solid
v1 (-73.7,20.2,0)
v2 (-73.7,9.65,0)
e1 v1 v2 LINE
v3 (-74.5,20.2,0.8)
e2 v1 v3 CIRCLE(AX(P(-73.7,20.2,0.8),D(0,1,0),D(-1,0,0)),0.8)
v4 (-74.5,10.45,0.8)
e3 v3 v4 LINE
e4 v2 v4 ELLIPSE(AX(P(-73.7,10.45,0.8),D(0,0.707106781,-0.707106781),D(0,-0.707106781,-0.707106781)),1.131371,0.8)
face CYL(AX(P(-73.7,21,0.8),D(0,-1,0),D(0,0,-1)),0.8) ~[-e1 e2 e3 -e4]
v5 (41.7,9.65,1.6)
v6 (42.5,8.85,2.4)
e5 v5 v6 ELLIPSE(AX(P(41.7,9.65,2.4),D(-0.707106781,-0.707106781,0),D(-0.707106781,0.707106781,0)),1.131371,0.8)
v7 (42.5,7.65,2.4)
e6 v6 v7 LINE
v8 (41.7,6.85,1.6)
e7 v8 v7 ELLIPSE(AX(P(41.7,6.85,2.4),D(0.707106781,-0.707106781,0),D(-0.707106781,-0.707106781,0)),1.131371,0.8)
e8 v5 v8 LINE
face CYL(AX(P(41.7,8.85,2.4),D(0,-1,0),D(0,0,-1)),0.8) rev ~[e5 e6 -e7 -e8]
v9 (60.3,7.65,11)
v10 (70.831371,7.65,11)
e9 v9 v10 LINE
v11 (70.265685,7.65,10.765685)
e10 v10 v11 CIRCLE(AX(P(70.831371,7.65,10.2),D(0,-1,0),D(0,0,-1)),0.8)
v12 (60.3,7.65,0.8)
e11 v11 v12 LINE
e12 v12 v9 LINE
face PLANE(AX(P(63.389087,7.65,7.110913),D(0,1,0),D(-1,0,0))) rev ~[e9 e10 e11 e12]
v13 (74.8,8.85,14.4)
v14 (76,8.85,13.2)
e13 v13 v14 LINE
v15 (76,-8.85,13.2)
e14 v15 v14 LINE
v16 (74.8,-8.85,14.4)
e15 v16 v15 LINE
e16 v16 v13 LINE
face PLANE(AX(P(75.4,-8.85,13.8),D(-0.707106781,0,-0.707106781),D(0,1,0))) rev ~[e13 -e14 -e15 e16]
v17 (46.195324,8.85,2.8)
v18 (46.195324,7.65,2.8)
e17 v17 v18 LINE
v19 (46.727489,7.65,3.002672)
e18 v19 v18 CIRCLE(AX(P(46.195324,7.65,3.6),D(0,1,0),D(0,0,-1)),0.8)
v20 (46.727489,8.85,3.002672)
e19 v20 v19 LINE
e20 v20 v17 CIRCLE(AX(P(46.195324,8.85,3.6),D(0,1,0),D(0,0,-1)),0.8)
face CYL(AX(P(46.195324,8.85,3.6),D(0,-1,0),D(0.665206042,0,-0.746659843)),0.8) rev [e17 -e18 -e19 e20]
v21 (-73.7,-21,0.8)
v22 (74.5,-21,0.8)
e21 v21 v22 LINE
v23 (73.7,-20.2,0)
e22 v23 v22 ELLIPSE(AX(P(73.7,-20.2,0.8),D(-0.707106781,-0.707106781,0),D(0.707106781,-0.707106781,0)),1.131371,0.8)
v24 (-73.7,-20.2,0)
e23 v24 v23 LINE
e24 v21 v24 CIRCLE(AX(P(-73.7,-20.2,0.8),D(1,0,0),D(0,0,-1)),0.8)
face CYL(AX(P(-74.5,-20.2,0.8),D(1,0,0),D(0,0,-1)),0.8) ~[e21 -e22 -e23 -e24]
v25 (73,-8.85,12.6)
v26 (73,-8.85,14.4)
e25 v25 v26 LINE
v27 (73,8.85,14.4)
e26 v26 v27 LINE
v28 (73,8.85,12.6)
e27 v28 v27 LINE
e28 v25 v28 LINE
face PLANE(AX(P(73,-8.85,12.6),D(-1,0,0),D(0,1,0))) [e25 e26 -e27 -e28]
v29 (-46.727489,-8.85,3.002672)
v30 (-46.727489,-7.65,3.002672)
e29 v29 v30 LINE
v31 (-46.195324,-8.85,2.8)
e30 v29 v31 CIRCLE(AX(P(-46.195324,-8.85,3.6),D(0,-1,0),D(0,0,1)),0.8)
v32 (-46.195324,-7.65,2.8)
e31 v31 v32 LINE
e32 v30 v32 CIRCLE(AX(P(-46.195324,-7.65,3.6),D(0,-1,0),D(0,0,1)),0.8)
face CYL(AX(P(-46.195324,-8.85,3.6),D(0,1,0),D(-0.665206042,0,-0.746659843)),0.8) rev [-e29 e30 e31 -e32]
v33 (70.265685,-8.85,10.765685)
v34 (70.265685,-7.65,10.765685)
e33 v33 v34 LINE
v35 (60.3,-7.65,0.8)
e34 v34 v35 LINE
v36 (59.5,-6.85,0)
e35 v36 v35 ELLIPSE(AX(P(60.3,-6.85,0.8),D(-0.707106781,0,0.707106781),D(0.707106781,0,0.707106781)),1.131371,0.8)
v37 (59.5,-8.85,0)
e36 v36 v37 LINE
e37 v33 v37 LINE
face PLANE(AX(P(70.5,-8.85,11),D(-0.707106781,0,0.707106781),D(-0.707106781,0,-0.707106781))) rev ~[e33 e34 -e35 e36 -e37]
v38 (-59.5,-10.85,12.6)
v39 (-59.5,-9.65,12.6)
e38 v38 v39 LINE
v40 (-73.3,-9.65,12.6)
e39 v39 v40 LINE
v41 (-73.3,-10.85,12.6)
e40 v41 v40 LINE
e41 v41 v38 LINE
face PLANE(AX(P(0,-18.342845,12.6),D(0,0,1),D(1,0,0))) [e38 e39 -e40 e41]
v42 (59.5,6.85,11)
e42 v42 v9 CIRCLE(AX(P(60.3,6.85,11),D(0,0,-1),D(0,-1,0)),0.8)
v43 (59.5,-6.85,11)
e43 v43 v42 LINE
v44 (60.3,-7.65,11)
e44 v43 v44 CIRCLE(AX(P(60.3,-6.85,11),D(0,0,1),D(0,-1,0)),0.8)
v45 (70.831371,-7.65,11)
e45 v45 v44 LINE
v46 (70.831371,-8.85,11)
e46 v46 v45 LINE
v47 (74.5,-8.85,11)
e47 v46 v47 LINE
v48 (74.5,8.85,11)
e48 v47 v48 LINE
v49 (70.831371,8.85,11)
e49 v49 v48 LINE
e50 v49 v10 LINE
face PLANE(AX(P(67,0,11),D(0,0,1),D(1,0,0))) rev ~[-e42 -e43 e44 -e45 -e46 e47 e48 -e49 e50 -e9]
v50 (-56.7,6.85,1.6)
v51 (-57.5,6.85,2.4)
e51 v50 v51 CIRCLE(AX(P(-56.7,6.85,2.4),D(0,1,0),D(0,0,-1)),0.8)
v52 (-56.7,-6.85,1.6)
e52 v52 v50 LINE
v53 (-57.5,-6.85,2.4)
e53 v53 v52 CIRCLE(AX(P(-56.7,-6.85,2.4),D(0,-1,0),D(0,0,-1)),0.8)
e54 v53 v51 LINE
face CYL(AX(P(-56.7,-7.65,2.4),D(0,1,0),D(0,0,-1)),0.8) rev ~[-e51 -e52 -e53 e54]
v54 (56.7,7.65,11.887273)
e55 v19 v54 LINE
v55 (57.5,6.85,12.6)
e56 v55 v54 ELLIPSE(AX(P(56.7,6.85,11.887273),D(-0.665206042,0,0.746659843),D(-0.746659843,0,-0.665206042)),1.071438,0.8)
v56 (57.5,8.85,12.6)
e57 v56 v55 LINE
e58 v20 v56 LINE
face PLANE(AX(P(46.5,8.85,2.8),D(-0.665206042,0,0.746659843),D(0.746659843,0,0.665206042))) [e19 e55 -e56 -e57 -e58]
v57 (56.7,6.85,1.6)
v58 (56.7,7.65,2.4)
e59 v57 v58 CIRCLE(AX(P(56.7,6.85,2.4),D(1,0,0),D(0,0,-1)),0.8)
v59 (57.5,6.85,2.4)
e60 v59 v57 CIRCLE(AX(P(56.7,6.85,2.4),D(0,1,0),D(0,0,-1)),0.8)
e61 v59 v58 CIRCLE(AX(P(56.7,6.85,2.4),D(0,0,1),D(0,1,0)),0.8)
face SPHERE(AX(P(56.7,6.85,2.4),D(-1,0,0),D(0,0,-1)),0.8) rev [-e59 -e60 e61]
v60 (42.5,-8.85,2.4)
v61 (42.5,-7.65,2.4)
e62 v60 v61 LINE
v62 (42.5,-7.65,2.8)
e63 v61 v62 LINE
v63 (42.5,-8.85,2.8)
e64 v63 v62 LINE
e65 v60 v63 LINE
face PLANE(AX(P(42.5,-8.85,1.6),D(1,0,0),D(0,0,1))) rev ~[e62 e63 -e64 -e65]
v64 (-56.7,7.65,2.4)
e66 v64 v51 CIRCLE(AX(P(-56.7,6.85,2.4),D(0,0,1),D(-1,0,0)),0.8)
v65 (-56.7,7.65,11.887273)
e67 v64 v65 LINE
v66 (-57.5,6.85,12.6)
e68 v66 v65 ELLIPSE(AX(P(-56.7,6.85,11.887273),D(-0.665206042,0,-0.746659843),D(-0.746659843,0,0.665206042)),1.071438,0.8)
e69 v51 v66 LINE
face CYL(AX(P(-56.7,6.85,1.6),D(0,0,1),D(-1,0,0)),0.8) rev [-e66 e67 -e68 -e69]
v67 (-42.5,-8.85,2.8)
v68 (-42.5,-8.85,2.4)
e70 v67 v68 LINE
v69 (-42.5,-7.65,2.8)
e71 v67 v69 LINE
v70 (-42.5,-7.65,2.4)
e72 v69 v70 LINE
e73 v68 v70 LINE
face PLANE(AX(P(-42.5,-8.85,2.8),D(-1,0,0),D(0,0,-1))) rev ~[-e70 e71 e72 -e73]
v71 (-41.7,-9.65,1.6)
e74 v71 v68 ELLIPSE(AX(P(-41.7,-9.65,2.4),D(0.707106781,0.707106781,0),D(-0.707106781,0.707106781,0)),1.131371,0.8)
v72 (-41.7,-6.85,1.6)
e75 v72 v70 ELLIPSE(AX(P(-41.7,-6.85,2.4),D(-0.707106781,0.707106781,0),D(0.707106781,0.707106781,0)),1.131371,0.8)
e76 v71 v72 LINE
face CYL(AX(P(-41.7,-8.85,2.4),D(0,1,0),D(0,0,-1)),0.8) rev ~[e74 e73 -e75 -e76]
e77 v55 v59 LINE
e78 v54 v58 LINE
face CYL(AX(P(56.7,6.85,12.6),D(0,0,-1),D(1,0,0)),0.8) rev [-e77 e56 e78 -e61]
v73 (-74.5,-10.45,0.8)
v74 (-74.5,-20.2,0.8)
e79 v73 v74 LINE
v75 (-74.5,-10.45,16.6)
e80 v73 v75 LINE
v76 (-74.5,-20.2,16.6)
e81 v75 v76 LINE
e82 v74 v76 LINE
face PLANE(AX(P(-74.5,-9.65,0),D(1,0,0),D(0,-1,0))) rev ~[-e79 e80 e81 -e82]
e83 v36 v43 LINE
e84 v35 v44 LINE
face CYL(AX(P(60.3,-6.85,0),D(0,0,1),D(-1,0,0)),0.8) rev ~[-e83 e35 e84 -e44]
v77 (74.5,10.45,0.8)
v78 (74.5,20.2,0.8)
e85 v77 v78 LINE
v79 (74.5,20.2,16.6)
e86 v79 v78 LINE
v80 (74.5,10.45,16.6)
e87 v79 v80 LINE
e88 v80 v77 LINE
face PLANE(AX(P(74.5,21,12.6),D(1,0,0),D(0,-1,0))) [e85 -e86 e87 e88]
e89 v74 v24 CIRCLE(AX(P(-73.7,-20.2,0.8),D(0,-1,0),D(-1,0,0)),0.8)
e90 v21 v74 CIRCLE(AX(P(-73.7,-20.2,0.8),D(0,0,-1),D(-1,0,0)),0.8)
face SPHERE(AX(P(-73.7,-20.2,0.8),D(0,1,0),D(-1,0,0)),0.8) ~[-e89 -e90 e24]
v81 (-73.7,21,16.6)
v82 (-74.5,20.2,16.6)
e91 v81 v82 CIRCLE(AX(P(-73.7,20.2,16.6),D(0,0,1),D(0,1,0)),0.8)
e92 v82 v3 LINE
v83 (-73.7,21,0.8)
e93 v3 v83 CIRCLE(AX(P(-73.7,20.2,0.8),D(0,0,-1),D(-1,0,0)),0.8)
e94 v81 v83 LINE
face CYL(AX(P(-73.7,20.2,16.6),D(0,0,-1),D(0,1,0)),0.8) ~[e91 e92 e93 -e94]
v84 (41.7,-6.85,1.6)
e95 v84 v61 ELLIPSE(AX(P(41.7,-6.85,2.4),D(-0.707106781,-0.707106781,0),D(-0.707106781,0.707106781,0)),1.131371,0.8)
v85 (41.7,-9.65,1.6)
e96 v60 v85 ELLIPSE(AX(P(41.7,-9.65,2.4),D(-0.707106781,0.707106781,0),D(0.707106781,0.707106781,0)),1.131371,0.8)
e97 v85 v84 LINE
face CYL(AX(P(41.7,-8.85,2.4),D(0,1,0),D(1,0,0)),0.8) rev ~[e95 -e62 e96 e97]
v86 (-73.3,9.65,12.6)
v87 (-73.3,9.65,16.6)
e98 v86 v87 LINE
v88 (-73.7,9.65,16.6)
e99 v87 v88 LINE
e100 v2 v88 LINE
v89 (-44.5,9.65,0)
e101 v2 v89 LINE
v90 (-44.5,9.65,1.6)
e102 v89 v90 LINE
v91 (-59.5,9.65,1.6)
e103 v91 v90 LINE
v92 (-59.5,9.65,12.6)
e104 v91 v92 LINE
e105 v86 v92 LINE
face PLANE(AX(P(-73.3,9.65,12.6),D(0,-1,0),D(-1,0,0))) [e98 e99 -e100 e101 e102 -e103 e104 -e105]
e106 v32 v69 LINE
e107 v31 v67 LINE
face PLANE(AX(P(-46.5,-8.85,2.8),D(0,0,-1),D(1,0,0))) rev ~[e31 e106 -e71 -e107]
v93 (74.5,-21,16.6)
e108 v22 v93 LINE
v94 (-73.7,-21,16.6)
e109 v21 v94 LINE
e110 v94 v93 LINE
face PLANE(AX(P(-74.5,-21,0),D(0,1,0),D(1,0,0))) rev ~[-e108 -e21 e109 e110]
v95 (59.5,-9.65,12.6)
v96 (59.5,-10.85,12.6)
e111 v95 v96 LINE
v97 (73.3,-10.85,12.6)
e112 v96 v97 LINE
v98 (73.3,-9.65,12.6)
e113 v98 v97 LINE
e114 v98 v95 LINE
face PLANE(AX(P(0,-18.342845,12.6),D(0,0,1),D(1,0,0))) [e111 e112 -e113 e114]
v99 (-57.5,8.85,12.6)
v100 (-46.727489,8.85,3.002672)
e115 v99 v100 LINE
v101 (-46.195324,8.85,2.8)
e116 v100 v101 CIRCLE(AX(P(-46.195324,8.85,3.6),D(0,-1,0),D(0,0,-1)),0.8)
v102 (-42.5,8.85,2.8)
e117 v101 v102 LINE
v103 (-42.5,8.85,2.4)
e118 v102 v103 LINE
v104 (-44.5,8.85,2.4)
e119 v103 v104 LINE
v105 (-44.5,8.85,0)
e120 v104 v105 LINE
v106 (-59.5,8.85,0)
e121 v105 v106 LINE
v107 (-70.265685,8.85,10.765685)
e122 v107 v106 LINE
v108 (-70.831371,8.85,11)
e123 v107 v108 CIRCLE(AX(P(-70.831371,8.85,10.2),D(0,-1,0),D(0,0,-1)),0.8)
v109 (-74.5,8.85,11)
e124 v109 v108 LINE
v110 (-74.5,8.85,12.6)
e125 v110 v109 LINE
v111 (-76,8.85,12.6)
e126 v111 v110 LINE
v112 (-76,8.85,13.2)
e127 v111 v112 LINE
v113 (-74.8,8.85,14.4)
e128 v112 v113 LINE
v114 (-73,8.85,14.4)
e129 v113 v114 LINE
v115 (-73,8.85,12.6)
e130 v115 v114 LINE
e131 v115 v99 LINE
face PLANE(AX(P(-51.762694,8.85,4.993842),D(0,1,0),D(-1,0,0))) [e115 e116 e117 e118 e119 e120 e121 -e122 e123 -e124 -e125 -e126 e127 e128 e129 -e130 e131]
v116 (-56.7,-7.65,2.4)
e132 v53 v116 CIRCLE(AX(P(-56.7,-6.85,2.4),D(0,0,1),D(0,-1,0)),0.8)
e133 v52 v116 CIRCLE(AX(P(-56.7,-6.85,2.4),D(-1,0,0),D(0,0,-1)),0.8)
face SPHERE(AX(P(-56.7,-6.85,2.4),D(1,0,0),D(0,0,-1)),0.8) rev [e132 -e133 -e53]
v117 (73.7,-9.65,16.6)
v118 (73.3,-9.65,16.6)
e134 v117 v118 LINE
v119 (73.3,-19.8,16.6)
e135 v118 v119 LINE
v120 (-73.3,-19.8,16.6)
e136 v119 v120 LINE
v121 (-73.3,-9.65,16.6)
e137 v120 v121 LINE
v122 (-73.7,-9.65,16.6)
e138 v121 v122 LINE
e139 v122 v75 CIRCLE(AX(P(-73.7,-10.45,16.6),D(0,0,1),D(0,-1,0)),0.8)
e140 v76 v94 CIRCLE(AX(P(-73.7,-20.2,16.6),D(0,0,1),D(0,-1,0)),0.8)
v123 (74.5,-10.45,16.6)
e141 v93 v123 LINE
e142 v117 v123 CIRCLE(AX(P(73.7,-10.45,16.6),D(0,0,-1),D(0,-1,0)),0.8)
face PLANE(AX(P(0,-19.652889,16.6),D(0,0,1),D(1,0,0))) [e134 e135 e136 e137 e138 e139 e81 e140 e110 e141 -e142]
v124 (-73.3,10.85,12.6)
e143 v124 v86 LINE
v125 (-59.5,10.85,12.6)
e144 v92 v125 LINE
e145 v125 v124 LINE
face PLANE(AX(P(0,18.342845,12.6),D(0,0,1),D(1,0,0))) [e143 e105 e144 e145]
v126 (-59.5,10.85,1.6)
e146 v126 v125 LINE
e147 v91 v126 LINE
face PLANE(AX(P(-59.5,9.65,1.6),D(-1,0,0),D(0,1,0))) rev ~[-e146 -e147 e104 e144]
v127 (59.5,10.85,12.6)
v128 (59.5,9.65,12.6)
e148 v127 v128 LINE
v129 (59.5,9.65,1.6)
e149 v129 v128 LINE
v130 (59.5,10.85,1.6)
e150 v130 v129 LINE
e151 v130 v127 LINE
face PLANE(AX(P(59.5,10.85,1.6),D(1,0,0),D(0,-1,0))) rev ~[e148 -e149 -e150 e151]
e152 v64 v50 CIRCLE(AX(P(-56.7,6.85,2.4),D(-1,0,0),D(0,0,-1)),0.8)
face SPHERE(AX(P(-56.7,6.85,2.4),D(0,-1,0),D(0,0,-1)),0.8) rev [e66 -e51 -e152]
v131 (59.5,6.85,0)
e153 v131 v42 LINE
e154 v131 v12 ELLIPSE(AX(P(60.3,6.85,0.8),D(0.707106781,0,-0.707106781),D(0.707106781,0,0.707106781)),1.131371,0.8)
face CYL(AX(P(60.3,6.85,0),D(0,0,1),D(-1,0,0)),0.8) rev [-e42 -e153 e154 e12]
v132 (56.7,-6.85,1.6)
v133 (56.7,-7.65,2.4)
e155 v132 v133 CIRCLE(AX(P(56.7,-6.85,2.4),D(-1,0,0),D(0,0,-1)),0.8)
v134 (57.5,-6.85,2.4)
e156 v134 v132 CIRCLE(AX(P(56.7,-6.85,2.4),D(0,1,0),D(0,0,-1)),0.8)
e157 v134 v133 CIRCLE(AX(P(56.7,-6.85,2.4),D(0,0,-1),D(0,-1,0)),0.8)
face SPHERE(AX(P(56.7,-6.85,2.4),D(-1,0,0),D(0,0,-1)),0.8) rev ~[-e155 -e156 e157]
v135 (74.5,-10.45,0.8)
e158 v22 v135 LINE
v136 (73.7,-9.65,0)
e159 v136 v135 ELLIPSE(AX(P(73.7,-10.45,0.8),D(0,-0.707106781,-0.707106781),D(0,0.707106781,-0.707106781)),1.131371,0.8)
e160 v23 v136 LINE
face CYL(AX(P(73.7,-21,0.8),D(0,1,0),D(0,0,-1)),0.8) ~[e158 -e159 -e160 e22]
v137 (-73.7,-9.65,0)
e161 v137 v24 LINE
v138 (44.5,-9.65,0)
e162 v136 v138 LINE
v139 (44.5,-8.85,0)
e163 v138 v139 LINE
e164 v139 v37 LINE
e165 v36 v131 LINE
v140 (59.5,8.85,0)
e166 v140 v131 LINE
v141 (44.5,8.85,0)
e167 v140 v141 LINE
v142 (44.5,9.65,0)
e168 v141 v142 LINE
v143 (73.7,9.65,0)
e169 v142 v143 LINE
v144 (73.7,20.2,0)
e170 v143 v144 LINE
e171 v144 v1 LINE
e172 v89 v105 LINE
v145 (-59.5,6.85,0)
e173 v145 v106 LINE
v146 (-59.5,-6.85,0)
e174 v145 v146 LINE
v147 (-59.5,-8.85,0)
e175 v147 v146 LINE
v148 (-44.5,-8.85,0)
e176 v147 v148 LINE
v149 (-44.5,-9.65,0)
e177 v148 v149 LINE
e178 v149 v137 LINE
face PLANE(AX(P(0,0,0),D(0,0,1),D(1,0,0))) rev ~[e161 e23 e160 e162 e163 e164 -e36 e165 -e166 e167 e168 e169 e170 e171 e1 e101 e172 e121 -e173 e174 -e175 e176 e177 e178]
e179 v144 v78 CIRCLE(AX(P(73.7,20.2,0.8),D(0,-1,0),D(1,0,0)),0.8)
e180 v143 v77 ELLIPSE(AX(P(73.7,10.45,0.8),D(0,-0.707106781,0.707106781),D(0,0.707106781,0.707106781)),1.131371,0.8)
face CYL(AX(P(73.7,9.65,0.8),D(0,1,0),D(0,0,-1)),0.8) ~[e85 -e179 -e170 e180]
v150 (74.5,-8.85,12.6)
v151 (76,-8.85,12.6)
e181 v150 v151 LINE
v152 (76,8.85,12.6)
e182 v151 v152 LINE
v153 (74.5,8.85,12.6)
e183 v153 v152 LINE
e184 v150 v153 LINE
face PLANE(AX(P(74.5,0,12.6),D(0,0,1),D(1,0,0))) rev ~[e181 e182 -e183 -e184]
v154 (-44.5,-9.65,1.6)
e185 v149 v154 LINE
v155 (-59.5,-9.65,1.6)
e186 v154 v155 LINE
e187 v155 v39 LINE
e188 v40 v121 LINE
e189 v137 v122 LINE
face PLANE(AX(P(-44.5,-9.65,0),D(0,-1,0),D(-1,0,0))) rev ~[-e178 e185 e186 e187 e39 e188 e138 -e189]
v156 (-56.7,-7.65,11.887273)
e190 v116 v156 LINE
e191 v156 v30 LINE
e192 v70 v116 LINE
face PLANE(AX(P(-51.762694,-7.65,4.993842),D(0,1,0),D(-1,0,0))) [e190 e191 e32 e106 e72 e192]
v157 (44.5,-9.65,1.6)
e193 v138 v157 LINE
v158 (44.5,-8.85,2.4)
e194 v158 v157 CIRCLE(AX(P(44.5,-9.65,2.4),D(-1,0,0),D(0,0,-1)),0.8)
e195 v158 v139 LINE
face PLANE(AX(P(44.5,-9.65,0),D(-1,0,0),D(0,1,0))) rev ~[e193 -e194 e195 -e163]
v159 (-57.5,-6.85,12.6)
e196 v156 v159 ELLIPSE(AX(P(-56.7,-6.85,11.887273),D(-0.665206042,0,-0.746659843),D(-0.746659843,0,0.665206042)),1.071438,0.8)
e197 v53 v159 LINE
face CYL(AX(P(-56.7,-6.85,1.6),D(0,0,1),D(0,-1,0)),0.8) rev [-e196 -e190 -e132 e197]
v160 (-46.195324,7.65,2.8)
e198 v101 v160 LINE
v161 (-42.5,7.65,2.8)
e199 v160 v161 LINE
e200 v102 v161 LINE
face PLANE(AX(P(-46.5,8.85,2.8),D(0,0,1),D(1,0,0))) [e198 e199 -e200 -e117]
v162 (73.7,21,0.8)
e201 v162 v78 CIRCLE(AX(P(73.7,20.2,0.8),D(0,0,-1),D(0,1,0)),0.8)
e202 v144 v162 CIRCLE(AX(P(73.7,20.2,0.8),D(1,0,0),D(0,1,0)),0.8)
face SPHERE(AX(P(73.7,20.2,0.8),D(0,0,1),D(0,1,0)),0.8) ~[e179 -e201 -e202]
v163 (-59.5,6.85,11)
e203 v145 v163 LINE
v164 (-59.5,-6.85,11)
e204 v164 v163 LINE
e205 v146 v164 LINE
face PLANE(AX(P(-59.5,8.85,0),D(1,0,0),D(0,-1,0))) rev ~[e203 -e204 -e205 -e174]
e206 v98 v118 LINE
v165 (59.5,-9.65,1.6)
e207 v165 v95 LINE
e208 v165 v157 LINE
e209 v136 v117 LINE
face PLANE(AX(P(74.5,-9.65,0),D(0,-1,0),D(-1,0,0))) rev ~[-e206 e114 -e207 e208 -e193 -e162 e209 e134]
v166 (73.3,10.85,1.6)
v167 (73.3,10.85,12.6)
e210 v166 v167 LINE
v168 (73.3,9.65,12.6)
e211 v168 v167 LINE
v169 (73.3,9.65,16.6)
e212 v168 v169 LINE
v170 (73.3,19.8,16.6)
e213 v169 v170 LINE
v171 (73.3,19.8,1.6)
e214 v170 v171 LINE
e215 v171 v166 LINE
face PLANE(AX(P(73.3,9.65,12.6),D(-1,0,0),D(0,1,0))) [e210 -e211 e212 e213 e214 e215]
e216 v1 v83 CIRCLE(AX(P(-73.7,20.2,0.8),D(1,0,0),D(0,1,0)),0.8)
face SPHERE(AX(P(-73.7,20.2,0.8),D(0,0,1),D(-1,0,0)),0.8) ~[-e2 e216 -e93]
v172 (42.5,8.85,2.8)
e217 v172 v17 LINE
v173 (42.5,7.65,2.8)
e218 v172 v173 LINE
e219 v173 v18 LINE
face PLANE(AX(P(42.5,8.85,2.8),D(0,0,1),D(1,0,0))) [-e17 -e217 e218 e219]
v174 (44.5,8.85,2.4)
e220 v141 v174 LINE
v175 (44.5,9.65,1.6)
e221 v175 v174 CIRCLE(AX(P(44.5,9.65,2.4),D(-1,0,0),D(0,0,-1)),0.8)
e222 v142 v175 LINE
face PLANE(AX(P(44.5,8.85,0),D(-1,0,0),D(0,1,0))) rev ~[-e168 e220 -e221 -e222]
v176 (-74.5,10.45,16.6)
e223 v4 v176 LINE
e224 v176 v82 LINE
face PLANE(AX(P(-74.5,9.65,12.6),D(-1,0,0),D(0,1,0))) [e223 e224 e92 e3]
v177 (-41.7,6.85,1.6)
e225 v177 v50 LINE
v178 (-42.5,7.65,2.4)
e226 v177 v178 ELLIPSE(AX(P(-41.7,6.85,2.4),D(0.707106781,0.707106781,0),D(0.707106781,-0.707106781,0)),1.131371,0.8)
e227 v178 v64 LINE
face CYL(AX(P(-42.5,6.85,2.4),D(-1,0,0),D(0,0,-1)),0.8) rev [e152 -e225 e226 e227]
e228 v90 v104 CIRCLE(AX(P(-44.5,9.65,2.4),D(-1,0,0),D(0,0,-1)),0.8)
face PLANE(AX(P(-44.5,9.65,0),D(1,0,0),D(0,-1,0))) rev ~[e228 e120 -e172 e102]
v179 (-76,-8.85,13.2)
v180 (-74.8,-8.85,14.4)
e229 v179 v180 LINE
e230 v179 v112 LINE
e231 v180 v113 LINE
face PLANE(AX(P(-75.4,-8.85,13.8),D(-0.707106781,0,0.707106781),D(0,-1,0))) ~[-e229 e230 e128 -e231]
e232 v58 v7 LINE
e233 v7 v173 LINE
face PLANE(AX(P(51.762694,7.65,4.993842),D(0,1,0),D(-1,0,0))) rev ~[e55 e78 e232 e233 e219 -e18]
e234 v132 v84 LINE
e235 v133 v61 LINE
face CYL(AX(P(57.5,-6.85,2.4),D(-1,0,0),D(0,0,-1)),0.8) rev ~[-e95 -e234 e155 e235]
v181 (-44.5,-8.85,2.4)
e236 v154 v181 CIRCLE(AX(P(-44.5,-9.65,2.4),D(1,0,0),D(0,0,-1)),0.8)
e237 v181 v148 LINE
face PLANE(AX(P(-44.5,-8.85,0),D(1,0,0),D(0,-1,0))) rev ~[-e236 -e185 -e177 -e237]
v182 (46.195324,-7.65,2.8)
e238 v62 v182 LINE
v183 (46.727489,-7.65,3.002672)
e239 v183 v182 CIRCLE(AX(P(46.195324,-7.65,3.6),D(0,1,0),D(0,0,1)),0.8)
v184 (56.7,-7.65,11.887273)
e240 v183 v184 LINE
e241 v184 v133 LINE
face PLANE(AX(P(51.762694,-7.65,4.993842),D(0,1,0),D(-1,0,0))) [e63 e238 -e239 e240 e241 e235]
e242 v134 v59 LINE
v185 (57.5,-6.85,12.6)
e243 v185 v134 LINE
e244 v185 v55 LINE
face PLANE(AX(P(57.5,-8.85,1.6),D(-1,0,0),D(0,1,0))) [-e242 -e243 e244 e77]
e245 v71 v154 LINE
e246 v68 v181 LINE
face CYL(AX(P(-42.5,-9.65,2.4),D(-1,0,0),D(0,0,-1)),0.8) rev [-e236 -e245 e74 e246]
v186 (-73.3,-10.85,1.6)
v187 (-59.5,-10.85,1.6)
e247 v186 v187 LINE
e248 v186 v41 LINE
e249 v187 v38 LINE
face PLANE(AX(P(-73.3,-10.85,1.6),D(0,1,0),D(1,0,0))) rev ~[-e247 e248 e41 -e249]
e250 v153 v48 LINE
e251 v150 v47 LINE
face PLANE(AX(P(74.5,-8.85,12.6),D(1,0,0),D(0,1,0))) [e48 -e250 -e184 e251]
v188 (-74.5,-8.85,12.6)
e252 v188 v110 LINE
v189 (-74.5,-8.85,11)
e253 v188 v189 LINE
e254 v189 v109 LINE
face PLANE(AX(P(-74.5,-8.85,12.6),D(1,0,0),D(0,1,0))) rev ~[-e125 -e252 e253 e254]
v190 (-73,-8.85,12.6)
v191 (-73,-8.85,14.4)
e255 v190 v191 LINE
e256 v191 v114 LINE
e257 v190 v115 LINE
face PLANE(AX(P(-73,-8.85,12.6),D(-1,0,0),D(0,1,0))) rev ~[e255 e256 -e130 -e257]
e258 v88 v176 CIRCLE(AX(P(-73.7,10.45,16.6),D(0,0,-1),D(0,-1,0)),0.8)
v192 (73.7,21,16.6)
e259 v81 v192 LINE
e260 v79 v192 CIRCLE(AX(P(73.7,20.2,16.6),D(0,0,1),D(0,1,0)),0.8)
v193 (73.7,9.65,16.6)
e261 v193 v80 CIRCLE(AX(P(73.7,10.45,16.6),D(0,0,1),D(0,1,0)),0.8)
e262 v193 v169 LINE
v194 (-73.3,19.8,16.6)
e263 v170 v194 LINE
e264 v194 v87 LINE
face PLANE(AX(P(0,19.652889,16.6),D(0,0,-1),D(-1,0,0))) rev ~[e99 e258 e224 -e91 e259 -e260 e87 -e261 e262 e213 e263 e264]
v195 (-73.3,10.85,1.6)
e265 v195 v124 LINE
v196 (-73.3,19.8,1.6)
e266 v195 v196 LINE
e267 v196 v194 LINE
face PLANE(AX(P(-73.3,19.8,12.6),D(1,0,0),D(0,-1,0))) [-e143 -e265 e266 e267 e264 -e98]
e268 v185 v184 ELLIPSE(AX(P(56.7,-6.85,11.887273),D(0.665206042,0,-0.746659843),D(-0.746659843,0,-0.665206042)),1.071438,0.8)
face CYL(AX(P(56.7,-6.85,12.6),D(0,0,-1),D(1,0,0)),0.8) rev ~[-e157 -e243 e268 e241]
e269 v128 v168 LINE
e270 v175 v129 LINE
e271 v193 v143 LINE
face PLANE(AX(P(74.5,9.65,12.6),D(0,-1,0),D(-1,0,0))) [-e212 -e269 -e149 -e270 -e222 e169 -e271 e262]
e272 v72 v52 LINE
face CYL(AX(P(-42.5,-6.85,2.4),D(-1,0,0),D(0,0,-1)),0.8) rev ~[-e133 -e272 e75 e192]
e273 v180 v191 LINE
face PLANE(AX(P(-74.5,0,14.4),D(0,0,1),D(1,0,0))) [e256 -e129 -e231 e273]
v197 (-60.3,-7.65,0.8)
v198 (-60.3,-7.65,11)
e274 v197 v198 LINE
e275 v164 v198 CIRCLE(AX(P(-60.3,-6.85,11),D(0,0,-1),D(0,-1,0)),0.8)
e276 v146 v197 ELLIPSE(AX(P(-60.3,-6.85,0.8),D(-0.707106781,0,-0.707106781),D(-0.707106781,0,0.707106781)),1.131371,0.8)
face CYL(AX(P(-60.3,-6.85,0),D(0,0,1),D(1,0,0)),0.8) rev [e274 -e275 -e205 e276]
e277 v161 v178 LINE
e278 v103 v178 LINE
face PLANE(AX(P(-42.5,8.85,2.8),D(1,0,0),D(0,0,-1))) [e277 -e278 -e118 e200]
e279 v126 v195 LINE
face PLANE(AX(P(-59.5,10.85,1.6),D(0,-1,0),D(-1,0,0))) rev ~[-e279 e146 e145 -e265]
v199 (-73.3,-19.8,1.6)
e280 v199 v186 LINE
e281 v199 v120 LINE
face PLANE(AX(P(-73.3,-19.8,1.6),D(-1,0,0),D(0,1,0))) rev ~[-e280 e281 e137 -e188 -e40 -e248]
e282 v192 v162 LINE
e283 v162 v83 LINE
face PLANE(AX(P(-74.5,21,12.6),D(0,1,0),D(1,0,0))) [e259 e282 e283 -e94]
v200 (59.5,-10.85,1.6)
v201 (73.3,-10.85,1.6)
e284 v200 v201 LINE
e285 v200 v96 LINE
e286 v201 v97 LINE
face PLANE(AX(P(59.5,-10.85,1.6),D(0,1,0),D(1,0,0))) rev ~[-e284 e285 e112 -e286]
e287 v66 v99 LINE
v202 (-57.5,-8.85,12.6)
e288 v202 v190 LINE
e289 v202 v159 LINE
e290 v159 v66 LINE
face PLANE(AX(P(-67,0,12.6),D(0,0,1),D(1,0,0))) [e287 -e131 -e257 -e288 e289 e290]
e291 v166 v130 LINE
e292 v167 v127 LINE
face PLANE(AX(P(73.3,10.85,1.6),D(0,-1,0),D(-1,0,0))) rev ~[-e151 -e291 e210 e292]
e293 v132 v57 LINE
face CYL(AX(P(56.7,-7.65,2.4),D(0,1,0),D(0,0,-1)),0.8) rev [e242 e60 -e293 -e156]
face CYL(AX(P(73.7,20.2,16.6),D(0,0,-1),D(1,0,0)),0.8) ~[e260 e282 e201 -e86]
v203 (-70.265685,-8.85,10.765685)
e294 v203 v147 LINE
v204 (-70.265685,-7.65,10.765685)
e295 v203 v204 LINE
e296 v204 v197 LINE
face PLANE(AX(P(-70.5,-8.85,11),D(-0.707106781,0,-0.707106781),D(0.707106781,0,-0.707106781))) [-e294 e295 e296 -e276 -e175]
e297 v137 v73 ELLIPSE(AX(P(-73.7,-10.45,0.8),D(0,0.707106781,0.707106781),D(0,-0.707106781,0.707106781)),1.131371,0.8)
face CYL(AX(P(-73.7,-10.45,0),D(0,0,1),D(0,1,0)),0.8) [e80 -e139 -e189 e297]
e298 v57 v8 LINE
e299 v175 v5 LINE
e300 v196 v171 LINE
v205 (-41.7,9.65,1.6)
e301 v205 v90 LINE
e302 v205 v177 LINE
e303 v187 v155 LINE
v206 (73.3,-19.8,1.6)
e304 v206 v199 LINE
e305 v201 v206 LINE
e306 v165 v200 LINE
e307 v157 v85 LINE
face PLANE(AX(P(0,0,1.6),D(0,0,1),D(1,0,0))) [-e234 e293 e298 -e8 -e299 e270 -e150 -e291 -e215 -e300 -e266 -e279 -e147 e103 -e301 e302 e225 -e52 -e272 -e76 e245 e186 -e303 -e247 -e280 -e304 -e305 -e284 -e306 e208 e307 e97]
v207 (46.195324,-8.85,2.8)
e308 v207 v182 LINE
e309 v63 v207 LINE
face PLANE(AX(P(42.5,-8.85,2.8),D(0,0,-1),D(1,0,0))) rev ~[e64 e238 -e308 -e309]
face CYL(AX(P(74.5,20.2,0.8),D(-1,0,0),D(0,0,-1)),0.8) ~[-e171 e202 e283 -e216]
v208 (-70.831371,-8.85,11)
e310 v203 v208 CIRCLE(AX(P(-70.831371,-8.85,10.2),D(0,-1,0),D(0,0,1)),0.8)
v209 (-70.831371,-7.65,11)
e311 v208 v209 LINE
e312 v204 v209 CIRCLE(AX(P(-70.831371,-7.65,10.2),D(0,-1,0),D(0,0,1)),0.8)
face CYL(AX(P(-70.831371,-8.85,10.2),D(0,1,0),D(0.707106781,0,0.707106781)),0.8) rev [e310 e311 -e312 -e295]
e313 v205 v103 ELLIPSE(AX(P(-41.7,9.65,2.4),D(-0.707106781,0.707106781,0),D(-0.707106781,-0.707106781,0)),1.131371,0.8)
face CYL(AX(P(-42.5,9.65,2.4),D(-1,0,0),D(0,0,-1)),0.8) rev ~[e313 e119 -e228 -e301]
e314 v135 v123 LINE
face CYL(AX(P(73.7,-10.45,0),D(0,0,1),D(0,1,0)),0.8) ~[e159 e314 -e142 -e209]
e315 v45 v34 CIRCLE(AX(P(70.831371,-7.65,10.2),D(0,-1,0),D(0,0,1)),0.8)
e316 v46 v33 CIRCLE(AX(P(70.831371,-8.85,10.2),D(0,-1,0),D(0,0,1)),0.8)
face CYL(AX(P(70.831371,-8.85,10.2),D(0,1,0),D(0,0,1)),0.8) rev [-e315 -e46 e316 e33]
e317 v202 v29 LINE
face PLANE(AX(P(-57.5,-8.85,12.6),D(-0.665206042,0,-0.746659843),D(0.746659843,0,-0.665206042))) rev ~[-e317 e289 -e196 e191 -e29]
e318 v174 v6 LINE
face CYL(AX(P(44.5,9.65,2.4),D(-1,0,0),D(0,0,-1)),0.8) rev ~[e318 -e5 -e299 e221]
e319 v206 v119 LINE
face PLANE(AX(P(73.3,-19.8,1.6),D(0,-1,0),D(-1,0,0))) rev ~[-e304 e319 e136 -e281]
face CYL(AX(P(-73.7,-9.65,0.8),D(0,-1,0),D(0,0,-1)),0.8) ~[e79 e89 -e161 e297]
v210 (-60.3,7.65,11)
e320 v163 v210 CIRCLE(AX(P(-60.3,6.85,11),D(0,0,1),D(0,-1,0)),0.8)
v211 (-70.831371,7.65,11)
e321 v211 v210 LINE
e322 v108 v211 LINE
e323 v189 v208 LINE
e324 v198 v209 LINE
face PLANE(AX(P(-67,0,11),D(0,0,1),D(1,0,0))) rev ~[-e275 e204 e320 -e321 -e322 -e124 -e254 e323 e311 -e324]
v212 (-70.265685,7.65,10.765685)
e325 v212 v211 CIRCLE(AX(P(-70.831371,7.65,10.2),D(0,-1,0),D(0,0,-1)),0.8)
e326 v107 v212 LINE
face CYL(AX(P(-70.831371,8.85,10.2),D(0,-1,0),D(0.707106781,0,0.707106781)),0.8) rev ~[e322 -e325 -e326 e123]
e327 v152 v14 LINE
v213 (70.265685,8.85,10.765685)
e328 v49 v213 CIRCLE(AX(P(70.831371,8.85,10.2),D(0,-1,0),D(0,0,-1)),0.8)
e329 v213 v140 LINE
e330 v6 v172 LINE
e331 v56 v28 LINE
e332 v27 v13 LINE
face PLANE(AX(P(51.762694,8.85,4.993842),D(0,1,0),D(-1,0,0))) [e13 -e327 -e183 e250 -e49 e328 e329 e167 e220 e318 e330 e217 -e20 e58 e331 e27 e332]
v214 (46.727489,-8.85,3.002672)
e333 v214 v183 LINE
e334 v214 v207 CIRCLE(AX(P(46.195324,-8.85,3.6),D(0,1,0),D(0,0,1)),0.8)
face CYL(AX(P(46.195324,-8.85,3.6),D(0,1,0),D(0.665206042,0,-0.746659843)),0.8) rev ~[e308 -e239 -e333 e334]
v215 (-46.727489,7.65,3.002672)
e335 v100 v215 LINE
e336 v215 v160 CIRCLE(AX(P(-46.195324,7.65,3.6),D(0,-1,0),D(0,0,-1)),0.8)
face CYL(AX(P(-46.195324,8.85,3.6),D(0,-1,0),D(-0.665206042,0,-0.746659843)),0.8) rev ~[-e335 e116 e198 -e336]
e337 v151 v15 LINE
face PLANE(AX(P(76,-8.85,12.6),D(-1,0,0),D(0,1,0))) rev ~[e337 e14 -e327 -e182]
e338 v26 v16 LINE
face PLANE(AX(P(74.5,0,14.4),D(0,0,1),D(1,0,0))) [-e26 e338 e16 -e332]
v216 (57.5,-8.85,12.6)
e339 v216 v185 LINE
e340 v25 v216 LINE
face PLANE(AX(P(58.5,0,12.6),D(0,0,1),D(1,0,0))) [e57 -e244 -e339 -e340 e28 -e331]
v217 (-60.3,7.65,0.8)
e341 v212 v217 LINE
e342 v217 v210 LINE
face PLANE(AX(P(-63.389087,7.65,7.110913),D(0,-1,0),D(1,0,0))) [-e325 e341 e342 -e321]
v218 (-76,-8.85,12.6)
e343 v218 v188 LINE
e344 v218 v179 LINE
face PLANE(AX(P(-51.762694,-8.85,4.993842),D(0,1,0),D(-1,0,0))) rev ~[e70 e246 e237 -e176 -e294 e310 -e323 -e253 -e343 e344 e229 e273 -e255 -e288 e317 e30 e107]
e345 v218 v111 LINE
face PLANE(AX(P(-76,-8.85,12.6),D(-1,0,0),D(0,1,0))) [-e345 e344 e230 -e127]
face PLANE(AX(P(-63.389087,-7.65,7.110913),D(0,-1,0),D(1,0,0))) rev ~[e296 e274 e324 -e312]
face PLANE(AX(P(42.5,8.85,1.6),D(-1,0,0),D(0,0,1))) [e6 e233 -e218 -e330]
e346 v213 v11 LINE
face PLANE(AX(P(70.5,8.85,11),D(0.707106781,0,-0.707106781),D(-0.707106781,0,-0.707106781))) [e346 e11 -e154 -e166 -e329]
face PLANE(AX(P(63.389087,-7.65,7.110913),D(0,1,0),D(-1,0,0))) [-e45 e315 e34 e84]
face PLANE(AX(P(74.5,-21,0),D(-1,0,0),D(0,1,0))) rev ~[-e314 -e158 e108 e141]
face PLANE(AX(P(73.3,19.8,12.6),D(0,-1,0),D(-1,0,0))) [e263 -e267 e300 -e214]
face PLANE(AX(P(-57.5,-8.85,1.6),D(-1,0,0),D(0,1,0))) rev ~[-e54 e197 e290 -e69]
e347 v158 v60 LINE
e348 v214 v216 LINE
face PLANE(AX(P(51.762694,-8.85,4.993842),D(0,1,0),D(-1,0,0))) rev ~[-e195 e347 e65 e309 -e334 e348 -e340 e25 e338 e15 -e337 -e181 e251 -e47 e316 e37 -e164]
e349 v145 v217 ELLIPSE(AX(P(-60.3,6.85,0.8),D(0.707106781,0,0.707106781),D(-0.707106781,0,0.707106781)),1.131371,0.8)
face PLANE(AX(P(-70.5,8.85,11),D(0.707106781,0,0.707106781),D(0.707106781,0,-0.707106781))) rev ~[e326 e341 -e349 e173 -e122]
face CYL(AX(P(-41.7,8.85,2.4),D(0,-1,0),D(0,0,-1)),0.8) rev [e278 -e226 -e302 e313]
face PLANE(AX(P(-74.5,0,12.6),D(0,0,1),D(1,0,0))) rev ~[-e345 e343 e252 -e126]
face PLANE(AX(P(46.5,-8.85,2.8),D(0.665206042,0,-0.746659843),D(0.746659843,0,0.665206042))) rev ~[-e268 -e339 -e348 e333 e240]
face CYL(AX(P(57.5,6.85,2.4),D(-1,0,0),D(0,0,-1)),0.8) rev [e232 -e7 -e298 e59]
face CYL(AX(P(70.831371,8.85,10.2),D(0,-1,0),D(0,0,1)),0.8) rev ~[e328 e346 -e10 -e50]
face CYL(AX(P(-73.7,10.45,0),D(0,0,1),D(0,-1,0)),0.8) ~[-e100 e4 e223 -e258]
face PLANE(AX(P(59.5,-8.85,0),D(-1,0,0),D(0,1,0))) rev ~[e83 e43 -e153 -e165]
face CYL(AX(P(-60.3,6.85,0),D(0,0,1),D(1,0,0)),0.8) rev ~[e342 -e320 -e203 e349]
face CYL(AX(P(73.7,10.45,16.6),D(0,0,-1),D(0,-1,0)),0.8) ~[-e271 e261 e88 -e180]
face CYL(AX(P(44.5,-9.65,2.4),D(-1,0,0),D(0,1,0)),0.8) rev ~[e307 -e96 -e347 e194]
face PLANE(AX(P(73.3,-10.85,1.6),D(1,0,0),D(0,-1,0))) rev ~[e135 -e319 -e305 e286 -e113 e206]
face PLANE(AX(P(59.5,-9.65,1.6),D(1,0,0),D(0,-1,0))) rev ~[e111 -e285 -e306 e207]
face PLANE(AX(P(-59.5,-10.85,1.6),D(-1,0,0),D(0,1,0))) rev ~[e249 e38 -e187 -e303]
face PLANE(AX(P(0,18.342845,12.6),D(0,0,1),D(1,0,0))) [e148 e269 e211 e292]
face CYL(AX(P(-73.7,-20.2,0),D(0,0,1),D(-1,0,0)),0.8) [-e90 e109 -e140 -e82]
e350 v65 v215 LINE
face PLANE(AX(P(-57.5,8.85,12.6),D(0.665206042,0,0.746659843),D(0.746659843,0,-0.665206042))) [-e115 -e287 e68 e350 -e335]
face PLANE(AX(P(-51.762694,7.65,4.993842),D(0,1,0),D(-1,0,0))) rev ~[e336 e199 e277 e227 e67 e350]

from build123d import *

# Parameters (mm, degrees)
PAD_DEPTH    = 1.6
SKETCH002_W  = 2
SKETCH002_H  = 17.7
PAD001_DEPTH = 11
PAD002_DEPTH = 4
SKETCH004_W  = 15
SKETCH004_H  = 17.7
PAD003_DEPTH = 1.6
SKETCH005_W  = 3
SKETCH005_H  = 17.7
PAD004_DEPTH = 1.8
PAD005_DEPTH = 1.2
PAD006_DEPTH = 1.2
CHAMFER_SIZE = 1.2
FILLET_R     = 0.8


with BuildPart() as part:
    # Sketch001 → Pad (new body)
    with BuildSketch(Plane.XY):
        Polygon((-44.5, -9.65), (-74.5, -9.65), (-74.5, -21), (74.5, -21), (74.5, -9.65), (44.5, -9.65), (44.5, -8.85), (59.5, -8.85), (59.5, 8.85), (44.5, 8.85), (44.5, 9.65), (74.5, 9.65), (74.5, 21), (-74.5, 21), (-74.5, 9.65), (-44.5, 9.65), (-44.5, 8.85), (-59.5, 8.85), (-59.5, -8.85), (-44.5, -8.85), align=None)
    extrude(amount=PAD_DEPTH)

    # Sketch002 → Pad001 (join)
    with BuildSketch(Plane.XY.offset(1.6)):
        Polygon((59.5, 9.65), (74.5, 9.65), (74.5, 21), (-74.5, 21), (-74.5, 9.65), (-59.5, 9.65), (-59.5, 10.85), (-73.3, 10.85), (-73.3, 19.8), (73.3, 19.8), (73.3, 10.85), (59.5, 10.85), align=None)
        Polygon((-59.5, -9.65), (-74.5, -9.65), (-74.5, -21), (74.5, -21), (74.5, -9.65), (59.5, -9.65), (59.5, -10.85), (73.3, -10.85), (73.3, -19.8), (-73.3, -19.8), (-73.3, -10.85), (-59.5, -10.85), align=None)
        with Locations((-58.5, 0)):
            Rectangle(SKETCH002_W, SKETCH002_H)
        with Locations((58.5, 0)):
            Rectangle(SKETCH002_W, SKETCH002_H)
    extrude(amount=PAD001_DEPTH)

    # Sketch003 → Pad002 (join)
    with BuildSketch(Plane.XY.offset(12.6)):
        Polygon((-74.5, 9.65), (-74.5, 21), (74.5, 21), (74.5, 9.65), (73.3, 9.65), (73.3, 19.8), (-73.3, 19.8), (-73.3, 9.65), align=None)
        Polygon((-74.5, -9.65), (-74.5, -21), (74.5, -21), (74.5, -9.65), (73.3, -9.65), (73.3, -19.8), (-73.3, -19.8), (-73.3, -9.65), align=None)
    extrude(amount=PAD002_DEPTH)

    # Sketch004 → Pad003 (join)
    with BuildSketch(Plane.XY.offset(12.6)):
        with Locations((-67, 0)):
            Rectangle(SKETCH004_W, SKETCH004_H)
        with Locations((67, 0)):
            Rectangle(SKETCH004_W, SKETCH004_H)
    extrude(amount=-PAD003_DEPTH)

    # Sketch005 → Pad004 (join)
    with BuildSketch(Plane.XY.offset(12.6)):
        with Locations((-74.5, 0)):
            Rectangle(SKETCH005_W, SKETCH005_H)
        with Locations((74.5, 0)):
            Rectangle(SKETCH005_W, SKETCH005_H)
    extrude(amount=PAD004_DEPTH)

    # Sketch006 (on DatumPlane) → Pad005 (join)
    with BuildSketch(Plane(origin=(59.5, 8.85, 0), x_dir=(-1, 0, 0), z_dir=(0, 1, 0))):
        Polygon((2, 1.6), (17, 1.6), (17, 2.8), (13, 2.8), (2, 12.6), align=None)
        Polygon((0, 0), (0, 11), (-11, 11), align=None)
        Polygon((119, 0), (119, 11), (130, 11), align=None)
        Polygon((102, 1.6), (117, 1.6), (117, 12.6), (106, 2.8), (102, 2.8), align=None)
    extrude(amount=-PAD005_DEPTH)

    # Sketch007 (on DatumPlane) → Pad006 (join)
    with BuildSketch(Plane(origin=(59.5, -8.85, 0), x_dir=(-1, 0, 0), z_dir=(0, 1, 0))):
        Polygon((2, 1.6), (17, 1.6), (17, 2.8), (13, 2.8), (2, 12.6), align=None)
        Polygon((0, 0), (0, 11), (-11, 11), align=None)
        Polygon((119, 0), (119, 11), (130, 11), align=None)
        Polygon((102, 1.6), (117, 1.6), (117, 12.6), (106, 2.8), (102, 2.8), align=None)
    extrude(amount=PAD006_DEPTH)

    # Chamfer
    chamfer_edges = [part.edges().sort_by_distance(p)[0] for p in [
        (76, 0, 14.4),
        (-76, 0, 14.4),
    ]]
    chamfer(chamfer_edges, length=CHAMFER_SIZE)

    # Fillet
    fillet_edges = [part.edges().sort_by_distance(p)[0] for p in [
        (43.5, 8.85, 1.6),
        (-43.5, 8.85, 1.6),
        (-42.5, 8.25, 1.6),
        (-42.5, -8.25, 1.6),
        (-50, -7.65, 1.6),
        (-57.5, 0, 1.6),
        (50, -7.65, 1.6),
        (42.5, 8.25, 1.6),
        (50, 7.65, 1.6),
        (57.5, 0, 1.6),
        (42.5, -8.25, 1.6),
        (43.5, -8.85, 1.6),
        (-43.5, -8.85, 1.6),
        (-50, 7.65, 1.6),
        (74.5, 21, 8.3),
        (-74.5, 21, 8.3),
        (-74.5, 15.325, 0),
        (-74.5, 9.65, 8.3),
        (-74.5, -9.65, 8.3),
        (-74.5, -15.325, 0),
        (-74.5, -21, 8.3),
        (0, 21, 0),
        (0, -21, 0),
        (-59.5, 7.65, 5.5),
        (-59.5, -7.65, 5.5),
        (74.5, 15.325, 0),
        (74.5, 9.65, 8.3),
        (74.5, -15.325, 0),
        (74.5, -9.65, 8.3),
        (59.5, 7.65, 5.5),
        (59.5, -7.65, 5.5),
        (70.5, -8.25, 11),
        (70.5, 8.25, 11),
        (-70.5, 8.25, 11),
        (-70.5, -8.25, 11),
        (-57.5, 7.65, 7.1),
        (57.5, 7.65, 7.1),
        (57.5, -7.65, 7.1),
        (-57.5, -7.65, 7.1),
        (-46.5, -8.25, 2.8),
        (-46.5, 8.25, 2.8),
        (46.5, 8.25, 2.8),
        (46.5, -8.25, 2.8),
    ]]
    fillet(fillet_edges, radius=FILLET_R)


solid = part.part
